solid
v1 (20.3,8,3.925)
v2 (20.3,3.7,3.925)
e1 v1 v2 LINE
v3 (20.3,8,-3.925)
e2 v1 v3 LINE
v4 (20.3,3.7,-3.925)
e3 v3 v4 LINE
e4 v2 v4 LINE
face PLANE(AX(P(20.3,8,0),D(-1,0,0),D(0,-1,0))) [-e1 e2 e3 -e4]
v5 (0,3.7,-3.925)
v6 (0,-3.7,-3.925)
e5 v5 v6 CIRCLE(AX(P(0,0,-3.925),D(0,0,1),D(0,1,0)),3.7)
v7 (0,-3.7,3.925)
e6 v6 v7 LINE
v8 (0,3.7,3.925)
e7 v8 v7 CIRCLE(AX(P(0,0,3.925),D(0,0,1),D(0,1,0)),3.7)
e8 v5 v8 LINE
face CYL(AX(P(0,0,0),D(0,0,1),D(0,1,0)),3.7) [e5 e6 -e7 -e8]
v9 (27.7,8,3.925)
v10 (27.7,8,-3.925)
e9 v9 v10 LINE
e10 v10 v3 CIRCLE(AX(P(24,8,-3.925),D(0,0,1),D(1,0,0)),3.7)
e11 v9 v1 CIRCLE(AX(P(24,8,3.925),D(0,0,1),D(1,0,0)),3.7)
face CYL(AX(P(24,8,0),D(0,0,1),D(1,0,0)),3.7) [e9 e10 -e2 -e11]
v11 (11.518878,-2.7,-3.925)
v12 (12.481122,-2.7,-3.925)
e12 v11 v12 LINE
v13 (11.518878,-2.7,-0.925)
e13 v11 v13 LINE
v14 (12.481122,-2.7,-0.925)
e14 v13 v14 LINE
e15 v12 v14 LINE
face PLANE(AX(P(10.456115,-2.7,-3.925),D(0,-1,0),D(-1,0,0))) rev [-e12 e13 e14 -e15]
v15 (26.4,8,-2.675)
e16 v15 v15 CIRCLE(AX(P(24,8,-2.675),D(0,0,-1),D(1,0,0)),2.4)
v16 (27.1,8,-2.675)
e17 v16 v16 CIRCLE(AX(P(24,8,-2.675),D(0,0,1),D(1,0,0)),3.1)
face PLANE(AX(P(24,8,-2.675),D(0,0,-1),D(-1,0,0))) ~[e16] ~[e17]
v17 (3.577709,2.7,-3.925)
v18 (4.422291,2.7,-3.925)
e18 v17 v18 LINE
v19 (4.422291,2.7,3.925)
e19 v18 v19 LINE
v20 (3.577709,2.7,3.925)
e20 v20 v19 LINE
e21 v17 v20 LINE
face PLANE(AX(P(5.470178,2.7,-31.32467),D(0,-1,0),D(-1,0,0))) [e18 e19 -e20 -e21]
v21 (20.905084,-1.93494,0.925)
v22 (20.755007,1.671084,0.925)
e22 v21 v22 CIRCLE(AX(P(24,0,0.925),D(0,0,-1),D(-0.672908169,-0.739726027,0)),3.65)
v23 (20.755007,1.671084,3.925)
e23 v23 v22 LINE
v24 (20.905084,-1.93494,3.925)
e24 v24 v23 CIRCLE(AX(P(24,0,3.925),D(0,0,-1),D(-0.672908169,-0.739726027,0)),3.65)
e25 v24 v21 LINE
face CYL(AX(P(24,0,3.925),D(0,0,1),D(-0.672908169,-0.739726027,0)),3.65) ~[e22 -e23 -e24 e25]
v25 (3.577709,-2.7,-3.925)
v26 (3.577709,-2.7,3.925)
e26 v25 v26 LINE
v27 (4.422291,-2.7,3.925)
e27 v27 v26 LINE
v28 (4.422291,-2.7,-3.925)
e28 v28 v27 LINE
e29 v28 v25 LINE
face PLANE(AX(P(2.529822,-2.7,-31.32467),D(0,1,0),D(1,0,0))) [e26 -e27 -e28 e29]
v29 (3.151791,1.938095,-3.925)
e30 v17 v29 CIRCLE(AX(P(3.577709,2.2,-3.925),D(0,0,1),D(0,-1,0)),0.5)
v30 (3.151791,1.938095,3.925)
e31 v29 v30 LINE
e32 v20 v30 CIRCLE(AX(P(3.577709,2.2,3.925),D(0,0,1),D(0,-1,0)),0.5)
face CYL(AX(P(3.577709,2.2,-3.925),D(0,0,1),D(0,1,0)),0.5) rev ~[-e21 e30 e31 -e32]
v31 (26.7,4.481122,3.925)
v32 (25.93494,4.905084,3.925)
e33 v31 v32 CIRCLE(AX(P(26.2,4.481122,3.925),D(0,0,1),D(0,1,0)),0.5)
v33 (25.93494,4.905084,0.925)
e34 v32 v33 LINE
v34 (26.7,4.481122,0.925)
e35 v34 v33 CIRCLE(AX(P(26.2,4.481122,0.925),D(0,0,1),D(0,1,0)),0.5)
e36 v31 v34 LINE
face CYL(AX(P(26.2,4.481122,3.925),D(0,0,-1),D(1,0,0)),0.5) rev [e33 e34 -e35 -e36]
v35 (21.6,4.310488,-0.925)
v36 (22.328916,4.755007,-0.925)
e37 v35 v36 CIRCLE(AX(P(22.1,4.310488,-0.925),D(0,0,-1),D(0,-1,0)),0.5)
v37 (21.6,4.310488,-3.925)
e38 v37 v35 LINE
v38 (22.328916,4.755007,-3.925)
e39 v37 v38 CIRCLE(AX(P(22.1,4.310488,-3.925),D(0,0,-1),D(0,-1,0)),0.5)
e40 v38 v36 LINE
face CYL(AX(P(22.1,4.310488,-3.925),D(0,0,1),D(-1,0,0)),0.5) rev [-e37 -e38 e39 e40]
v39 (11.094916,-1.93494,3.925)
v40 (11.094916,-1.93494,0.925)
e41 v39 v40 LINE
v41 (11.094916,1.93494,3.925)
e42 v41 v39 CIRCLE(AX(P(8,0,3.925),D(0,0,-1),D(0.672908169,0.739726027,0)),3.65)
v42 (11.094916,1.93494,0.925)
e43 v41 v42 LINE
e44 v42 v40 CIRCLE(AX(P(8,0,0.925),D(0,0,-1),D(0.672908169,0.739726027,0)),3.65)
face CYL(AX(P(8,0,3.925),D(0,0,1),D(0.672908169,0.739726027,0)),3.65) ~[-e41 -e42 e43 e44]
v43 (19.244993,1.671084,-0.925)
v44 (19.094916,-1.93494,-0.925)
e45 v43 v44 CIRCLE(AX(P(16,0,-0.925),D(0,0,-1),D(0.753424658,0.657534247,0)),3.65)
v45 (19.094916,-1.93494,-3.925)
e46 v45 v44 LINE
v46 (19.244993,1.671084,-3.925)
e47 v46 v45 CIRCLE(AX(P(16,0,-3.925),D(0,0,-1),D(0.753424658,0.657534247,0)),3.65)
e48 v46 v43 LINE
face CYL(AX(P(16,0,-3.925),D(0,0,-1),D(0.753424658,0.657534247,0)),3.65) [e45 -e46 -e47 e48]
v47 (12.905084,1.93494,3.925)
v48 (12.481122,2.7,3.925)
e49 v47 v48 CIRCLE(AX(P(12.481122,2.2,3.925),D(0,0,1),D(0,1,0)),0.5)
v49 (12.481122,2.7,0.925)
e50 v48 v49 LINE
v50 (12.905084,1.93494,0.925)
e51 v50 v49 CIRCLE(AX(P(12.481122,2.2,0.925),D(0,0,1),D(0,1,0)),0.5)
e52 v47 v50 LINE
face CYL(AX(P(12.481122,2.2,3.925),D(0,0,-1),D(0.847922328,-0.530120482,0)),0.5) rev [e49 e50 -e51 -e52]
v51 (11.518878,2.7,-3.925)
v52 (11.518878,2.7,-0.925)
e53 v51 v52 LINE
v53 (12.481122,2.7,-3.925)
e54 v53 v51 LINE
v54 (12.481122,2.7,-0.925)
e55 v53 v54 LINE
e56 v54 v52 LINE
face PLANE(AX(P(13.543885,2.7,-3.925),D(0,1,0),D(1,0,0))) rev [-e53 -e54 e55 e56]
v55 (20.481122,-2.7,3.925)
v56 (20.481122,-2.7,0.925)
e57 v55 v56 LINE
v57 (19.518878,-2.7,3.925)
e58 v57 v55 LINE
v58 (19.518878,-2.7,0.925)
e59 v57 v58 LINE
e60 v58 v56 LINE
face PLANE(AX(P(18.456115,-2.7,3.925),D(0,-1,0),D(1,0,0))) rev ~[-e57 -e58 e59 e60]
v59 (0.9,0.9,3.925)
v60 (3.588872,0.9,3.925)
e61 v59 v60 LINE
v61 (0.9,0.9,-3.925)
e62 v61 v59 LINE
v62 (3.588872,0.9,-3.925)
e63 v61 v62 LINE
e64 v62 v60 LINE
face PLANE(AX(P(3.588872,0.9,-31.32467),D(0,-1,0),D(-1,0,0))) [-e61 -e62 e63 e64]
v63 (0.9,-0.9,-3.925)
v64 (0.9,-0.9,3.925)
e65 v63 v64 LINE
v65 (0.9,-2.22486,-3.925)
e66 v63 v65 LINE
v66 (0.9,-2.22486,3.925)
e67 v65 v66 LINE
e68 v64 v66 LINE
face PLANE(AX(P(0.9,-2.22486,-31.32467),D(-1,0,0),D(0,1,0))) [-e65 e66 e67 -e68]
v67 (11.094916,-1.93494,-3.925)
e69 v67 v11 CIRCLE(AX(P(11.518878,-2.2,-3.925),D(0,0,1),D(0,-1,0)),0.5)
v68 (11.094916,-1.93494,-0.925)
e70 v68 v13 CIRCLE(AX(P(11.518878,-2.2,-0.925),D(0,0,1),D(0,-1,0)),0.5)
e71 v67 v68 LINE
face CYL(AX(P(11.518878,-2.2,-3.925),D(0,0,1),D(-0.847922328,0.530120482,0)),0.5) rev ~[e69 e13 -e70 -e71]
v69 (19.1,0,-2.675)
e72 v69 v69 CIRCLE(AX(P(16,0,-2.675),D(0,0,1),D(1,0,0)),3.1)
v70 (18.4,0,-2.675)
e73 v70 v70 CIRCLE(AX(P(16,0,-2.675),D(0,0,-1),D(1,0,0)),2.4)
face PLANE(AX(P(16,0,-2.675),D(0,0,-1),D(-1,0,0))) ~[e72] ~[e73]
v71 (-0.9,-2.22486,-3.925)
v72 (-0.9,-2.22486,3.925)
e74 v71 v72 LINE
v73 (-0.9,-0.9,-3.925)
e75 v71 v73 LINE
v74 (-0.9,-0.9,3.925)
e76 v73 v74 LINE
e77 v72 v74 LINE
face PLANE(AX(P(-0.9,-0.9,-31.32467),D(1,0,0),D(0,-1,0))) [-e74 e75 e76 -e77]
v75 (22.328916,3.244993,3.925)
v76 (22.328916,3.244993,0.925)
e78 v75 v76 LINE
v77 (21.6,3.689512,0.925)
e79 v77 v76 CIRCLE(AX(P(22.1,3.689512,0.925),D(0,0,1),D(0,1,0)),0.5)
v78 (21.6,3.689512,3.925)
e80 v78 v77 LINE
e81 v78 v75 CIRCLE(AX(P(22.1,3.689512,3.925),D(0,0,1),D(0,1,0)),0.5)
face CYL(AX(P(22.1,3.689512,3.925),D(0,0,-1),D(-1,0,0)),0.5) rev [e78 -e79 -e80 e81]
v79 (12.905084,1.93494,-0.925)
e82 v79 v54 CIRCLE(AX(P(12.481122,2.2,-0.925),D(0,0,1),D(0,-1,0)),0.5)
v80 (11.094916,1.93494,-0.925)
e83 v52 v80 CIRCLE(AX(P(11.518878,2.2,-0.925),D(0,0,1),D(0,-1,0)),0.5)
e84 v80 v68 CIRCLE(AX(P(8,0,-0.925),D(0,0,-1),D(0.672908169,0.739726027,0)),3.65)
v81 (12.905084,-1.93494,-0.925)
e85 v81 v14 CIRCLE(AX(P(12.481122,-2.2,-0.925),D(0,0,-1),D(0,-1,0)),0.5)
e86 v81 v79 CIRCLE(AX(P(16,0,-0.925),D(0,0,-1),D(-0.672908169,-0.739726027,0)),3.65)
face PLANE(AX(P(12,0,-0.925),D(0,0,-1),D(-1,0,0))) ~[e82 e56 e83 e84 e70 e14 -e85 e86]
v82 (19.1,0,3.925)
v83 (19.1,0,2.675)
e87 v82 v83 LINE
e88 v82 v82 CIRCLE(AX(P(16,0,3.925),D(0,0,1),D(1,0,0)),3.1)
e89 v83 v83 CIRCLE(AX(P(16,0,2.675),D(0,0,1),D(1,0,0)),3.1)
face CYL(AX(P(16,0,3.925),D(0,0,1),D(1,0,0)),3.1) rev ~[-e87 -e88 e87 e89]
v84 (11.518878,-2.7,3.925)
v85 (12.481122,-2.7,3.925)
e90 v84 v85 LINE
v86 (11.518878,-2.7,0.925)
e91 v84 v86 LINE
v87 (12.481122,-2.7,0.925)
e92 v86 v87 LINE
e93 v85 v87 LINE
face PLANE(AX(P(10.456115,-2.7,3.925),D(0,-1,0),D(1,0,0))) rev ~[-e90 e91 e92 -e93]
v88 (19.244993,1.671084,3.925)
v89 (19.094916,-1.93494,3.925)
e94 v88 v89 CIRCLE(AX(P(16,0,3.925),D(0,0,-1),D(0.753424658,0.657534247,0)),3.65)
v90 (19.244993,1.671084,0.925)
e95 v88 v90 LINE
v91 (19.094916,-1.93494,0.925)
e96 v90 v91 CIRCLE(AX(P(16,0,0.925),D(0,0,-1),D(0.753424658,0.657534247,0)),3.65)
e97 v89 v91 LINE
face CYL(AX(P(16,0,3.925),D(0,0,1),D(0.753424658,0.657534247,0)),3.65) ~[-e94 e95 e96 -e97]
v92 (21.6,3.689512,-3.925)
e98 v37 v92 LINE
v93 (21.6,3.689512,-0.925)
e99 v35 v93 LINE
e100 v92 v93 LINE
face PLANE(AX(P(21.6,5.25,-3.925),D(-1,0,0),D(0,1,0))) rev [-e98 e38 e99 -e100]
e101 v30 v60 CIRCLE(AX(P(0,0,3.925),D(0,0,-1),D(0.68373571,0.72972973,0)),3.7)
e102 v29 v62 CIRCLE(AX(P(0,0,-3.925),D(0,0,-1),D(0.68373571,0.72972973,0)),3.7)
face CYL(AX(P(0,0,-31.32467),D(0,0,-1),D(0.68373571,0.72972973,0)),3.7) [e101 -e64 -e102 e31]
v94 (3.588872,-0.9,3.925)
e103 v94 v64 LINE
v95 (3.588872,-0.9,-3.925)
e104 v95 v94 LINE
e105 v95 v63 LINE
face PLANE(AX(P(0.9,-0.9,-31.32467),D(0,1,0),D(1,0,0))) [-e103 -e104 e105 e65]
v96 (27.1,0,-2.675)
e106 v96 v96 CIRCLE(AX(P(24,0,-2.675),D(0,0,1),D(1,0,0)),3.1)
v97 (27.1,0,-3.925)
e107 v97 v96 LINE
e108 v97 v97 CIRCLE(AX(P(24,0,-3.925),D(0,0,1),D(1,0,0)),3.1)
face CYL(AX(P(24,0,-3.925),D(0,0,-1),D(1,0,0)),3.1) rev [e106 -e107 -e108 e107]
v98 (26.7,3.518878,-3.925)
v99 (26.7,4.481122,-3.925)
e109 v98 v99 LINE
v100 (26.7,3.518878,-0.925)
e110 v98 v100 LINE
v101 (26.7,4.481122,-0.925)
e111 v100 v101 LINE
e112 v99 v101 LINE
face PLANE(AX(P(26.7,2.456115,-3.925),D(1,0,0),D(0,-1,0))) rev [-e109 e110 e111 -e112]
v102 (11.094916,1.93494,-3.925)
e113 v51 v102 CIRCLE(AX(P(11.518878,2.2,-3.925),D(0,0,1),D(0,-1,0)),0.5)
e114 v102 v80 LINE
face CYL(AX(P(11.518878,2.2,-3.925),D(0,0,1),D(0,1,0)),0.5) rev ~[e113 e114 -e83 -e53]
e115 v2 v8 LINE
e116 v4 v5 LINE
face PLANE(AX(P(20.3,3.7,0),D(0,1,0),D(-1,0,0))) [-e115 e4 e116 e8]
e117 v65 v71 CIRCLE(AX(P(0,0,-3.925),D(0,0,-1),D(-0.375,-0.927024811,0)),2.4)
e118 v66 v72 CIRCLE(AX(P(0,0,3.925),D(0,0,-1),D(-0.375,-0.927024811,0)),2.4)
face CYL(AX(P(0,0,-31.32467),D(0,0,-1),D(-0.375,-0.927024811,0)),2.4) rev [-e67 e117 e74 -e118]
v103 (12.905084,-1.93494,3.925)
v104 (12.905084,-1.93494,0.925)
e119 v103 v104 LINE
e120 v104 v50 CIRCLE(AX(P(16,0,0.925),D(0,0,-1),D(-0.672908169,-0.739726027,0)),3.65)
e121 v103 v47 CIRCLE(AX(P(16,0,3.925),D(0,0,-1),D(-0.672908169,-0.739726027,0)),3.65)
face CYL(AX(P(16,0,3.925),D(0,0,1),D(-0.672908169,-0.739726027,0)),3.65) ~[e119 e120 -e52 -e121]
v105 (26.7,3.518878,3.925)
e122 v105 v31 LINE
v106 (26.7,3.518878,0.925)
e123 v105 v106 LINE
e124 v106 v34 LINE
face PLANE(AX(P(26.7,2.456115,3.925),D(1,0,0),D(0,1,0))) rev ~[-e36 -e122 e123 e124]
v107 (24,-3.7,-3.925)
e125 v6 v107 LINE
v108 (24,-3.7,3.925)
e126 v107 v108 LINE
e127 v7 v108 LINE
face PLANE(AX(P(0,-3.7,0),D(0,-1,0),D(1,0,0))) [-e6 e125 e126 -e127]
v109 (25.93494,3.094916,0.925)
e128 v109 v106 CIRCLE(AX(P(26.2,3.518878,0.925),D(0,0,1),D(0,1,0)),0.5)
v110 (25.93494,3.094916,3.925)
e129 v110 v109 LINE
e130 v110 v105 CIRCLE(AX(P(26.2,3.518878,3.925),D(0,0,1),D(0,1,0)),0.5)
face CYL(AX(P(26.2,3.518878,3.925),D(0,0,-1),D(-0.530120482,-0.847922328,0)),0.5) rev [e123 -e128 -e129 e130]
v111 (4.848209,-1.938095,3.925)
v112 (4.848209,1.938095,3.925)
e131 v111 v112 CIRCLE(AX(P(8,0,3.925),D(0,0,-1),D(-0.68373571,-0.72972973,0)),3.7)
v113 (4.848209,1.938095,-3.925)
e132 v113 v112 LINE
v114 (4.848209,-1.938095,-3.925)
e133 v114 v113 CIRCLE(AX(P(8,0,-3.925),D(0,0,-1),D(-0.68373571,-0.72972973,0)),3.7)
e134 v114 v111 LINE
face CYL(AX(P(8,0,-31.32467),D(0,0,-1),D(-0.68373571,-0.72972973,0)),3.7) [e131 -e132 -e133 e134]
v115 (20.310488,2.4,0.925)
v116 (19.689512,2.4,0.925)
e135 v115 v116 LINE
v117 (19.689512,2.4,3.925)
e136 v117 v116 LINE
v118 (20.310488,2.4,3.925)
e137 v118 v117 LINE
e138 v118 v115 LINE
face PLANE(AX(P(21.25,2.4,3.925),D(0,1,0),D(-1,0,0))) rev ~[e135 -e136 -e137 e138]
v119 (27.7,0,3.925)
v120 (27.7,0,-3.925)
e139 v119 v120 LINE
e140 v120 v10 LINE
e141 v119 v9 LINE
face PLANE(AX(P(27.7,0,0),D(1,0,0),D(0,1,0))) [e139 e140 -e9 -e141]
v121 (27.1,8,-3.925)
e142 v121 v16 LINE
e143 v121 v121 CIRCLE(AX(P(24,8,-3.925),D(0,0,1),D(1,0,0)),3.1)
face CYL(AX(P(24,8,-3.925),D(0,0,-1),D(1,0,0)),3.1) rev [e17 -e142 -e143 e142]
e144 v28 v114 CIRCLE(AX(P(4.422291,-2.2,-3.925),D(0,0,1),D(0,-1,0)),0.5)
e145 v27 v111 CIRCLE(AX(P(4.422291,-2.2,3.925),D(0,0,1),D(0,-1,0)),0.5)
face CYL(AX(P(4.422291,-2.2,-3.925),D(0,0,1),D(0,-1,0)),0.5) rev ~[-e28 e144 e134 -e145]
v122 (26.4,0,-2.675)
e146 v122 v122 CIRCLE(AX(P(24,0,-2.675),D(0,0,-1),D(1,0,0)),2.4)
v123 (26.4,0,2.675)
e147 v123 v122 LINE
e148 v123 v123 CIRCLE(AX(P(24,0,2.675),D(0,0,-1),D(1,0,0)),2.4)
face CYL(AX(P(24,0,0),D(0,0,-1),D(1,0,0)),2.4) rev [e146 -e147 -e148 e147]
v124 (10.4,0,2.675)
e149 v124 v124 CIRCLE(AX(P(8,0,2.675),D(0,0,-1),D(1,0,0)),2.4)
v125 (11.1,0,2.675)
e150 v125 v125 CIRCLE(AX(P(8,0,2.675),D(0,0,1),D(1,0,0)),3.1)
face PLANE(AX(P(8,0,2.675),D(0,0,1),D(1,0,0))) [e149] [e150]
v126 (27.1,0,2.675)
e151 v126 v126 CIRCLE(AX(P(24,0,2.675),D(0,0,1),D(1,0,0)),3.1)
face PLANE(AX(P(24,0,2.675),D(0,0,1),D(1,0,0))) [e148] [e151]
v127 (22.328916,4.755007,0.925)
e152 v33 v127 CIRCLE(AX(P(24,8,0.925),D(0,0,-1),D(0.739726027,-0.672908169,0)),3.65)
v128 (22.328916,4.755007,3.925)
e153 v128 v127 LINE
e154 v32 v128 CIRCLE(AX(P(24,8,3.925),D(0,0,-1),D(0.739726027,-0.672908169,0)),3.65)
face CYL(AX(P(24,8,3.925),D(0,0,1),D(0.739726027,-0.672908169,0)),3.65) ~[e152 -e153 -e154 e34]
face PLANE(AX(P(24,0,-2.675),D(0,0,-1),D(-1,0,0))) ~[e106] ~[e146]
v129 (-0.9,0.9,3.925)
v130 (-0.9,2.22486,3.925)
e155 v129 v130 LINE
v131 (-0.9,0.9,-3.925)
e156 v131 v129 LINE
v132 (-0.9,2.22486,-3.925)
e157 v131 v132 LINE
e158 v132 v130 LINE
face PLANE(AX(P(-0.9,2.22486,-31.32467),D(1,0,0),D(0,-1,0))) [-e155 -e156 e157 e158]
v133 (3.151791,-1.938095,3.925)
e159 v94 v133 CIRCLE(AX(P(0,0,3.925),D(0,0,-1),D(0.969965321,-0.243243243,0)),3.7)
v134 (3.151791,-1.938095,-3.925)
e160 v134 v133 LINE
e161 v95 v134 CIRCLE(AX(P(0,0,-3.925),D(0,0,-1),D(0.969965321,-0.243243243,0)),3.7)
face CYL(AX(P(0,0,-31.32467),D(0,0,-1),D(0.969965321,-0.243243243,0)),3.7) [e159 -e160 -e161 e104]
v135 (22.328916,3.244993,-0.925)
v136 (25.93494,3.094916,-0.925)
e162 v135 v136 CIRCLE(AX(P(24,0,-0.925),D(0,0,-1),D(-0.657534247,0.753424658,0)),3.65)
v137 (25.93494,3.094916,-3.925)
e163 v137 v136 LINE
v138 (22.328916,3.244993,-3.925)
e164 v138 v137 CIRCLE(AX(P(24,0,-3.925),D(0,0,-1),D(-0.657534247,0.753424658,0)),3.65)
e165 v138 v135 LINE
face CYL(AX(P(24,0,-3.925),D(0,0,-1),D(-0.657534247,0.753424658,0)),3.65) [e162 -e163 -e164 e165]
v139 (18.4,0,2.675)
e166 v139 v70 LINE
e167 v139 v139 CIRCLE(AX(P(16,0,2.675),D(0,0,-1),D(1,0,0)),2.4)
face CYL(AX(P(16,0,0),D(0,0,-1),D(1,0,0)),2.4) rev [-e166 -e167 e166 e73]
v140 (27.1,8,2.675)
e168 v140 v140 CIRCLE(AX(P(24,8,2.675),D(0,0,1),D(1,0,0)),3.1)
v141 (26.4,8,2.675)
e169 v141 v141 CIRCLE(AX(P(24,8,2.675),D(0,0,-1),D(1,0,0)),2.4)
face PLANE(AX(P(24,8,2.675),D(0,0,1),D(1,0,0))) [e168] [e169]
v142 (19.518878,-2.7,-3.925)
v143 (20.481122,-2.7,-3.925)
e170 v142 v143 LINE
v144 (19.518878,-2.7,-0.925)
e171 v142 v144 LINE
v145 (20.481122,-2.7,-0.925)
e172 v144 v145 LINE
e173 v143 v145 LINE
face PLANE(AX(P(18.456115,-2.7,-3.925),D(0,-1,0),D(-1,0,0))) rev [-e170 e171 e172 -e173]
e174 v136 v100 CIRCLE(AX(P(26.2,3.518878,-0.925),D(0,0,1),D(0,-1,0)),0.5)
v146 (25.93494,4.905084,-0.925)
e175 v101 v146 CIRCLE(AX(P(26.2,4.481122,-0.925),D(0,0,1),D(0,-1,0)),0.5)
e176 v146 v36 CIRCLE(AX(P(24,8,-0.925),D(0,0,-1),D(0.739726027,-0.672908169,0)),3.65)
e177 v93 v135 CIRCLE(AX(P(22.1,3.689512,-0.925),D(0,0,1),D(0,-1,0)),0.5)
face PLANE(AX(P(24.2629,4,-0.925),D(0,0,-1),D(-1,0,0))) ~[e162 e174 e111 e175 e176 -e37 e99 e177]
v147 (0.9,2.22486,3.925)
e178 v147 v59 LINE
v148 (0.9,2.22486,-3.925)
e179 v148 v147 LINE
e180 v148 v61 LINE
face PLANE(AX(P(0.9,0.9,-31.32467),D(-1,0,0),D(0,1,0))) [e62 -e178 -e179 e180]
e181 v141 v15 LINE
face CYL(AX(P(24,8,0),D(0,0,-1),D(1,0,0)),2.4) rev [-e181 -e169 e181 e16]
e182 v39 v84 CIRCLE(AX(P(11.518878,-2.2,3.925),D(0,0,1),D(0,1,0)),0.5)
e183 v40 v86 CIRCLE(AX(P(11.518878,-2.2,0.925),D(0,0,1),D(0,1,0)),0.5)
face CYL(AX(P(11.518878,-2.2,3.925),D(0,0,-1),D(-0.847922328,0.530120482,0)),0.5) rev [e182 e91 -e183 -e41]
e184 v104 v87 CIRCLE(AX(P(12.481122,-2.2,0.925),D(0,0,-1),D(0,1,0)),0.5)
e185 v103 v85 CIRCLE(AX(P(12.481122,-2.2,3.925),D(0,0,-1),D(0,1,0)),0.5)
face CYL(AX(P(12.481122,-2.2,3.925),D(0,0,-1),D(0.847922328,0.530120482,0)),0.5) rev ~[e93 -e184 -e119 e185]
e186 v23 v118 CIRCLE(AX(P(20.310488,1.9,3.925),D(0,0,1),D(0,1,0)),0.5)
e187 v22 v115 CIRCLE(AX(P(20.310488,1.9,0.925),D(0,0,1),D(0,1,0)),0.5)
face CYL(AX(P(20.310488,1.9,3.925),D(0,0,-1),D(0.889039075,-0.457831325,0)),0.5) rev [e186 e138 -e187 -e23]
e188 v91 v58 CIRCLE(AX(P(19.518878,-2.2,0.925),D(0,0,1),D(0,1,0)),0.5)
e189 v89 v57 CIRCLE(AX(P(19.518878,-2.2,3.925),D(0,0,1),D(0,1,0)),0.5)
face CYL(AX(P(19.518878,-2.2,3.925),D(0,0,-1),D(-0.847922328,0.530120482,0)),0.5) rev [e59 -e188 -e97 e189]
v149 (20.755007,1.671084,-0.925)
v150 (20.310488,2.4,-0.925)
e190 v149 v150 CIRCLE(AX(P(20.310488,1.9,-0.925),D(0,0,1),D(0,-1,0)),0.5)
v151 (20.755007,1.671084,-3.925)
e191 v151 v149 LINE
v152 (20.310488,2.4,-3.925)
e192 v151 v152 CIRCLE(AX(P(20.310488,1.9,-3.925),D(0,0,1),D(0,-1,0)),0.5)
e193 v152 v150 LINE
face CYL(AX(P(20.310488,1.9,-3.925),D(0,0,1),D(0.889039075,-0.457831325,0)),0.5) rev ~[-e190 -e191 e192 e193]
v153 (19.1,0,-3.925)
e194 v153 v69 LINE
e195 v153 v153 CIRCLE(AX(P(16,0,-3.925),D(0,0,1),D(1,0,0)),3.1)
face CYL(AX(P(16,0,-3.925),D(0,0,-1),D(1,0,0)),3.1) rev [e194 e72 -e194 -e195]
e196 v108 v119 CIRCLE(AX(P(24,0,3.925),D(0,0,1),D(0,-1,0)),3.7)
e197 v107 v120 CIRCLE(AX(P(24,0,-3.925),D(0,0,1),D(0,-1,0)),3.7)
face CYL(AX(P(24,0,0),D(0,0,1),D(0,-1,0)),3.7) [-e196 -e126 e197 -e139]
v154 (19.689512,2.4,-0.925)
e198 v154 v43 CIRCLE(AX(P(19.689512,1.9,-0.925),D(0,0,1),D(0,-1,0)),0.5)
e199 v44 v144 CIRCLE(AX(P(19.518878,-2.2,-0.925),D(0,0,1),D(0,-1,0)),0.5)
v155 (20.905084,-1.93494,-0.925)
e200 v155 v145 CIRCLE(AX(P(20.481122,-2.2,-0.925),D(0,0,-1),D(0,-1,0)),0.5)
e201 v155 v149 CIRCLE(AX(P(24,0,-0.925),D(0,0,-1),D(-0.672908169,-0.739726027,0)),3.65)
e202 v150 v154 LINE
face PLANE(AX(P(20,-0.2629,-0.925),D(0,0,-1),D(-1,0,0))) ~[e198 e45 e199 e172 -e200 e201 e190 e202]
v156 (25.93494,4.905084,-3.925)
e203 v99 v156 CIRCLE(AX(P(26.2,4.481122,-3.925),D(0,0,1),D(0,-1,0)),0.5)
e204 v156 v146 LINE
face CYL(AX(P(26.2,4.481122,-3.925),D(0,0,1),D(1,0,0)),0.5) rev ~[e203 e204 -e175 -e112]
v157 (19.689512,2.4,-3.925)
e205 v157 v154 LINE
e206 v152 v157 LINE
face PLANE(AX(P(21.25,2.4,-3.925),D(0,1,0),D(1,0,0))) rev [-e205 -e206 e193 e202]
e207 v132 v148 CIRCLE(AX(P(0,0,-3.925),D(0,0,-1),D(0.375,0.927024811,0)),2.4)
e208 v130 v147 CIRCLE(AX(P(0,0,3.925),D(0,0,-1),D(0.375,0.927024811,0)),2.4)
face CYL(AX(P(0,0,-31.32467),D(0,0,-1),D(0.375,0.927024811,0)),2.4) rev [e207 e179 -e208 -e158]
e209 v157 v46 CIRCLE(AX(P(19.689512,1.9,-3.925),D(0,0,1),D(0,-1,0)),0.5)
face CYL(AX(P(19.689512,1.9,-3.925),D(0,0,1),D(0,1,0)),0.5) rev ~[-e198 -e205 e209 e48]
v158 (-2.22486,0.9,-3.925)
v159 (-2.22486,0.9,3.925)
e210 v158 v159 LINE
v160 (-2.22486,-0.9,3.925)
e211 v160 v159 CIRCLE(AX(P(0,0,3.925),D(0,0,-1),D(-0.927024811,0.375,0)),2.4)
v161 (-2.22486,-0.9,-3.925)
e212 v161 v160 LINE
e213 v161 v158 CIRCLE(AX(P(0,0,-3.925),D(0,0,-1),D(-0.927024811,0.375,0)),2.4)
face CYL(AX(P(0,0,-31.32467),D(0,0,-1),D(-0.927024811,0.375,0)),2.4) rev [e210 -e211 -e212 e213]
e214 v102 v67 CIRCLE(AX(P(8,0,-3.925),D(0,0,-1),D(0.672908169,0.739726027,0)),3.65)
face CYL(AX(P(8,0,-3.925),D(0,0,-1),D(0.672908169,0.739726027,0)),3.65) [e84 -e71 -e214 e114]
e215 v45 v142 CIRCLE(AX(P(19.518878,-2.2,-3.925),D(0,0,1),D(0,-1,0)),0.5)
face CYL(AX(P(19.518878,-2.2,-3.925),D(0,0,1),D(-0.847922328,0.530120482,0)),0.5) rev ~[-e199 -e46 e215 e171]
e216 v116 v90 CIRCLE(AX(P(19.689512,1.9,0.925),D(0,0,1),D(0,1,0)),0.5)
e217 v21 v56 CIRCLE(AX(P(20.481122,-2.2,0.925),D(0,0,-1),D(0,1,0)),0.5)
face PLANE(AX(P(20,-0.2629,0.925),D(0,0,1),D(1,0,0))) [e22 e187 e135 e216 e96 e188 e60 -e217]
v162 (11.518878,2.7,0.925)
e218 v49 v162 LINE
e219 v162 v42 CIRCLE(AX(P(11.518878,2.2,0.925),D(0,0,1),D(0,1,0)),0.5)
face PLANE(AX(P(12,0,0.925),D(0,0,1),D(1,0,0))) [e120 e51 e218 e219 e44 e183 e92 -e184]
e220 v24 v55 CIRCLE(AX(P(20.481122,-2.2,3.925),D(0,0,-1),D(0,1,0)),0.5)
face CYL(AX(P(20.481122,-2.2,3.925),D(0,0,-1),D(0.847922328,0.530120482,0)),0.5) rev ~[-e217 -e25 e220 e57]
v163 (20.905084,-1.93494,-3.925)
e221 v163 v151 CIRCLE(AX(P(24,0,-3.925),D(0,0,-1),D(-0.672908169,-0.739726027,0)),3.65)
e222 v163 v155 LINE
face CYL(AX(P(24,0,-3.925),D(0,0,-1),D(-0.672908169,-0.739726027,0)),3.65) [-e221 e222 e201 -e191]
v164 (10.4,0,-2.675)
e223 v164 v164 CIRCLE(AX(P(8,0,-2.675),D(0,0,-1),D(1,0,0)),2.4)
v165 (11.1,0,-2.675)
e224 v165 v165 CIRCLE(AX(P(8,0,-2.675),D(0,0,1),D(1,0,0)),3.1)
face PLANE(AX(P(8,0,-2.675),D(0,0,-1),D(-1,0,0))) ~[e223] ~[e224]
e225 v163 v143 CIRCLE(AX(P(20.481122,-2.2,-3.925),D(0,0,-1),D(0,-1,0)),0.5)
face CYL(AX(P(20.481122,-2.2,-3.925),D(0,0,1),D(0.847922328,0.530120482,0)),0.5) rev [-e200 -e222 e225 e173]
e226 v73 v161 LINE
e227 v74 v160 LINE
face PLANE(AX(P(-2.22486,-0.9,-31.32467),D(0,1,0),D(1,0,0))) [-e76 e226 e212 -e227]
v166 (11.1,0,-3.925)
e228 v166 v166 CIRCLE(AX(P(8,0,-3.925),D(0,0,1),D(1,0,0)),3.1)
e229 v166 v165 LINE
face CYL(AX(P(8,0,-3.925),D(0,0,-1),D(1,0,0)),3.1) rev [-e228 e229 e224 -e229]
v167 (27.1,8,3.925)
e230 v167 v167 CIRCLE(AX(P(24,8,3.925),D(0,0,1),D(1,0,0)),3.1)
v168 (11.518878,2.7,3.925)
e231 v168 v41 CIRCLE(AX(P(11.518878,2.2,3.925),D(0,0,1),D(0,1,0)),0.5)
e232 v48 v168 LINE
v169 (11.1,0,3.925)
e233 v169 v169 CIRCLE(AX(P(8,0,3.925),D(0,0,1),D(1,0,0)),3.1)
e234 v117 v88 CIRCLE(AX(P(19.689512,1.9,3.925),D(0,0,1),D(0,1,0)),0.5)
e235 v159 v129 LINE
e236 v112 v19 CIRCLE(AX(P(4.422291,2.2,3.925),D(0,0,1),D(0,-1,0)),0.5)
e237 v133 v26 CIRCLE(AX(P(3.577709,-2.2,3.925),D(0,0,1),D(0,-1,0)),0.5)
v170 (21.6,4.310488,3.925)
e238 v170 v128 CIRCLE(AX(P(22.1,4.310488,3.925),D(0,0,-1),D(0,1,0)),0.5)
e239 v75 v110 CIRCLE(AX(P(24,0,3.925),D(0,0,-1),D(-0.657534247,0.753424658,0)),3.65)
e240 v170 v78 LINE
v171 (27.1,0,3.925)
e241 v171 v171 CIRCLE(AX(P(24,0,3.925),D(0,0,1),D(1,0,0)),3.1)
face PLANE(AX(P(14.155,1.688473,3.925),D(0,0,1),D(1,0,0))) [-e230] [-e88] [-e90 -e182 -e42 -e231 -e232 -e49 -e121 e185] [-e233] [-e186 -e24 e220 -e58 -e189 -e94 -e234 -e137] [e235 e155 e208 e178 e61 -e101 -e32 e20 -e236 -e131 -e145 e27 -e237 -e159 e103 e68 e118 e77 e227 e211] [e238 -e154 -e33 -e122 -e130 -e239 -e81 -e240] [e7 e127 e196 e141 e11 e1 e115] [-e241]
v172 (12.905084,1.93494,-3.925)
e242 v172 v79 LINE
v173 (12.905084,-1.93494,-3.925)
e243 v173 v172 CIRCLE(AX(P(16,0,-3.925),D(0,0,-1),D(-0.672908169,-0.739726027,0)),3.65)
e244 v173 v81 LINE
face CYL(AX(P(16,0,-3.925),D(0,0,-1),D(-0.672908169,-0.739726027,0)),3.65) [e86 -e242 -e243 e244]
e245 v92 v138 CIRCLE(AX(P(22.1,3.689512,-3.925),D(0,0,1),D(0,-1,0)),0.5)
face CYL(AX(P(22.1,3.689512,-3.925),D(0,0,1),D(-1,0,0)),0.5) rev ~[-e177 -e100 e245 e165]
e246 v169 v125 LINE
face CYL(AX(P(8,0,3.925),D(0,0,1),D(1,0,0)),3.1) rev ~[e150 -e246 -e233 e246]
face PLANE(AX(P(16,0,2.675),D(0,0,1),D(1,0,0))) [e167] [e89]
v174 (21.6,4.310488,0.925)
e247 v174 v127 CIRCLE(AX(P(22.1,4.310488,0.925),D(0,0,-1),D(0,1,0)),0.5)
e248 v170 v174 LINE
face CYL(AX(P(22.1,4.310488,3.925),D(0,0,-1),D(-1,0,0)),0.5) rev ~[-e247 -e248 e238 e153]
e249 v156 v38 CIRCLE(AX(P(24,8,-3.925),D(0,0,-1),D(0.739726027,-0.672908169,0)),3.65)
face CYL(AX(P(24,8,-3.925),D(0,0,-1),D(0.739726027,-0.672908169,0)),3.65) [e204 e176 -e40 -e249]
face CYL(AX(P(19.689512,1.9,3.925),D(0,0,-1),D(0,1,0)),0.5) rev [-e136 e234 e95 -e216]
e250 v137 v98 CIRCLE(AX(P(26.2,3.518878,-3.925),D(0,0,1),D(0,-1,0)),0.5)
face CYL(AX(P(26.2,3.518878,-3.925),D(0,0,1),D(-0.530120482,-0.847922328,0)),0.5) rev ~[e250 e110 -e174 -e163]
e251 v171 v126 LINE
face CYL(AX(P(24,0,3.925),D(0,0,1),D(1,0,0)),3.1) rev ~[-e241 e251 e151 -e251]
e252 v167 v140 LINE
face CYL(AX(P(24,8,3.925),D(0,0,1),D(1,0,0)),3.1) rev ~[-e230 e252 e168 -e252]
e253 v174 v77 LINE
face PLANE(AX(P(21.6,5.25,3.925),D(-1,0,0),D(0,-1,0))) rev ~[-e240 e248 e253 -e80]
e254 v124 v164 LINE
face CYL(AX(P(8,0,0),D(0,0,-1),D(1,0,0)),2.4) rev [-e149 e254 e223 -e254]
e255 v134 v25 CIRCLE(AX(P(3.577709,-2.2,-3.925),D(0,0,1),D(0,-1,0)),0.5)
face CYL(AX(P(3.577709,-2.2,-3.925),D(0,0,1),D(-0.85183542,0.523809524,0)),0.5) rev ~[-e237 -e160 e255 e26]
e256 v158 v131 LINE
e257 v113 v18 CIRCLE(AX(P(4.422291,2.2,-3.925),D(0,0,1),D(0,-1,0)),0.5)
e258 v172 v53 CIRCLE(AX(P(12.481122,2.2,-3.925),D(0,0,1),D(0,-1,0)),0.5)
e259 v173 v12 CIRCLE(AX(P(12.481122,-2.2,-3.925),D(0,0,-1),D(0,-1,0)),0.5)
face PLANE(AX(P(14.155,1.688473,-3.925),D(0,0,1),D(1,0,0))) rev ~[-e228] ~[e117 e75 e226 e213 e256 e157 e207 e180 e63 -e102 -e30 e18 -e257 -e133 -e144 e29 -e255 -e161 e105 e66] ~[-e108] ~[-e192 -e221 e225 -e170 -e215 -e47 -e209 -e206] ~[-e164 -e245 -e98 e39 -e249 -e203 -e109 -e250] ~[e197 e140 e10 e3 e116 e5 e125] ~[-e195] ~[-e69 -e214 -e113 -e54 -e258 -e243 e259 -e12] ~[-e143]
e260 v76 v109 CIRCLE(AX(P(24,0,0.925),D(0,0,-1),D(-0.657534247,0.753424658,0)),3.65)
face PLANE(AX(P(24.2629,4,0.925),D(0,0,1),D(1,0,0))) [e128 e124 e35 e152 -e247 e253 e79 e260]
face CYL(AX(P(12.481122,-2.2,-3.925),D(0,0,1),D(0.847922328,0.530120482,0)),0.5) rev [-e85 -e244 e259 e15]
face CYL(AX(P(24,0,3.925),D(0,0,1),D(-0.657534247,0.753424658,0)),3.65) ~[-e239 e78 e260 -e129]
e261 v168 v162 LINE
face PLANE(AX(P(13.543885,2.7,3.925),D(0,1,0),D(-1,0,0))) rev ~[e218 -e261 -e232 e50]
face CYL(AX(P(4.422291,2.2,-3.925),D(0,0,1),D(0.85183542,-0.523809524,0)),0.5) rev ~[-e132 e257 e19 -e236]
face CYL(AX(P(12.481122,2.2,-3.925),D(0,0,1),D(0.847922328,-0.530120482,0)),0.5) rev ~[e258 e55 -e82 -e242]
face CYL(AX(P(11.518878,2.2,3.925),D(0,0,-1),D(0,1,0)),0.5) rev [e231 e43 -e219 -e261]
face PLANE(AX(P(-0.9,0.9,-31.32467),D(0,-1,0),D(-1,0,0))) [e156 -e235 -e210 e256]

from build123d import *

# Parameters (mm, degrees)
SKETCH1_R            = 2.4
BEAM_DEPTH           = 3.925
AXLE_CUT_DEPTH       = 31.324670237
AXLE_CUT_DEPTH_BACK  = 31.324670237
SKETCH3_R            = 3.1
HOLE_SURROUND_DEPTH  = 1.25
CAVITY_CUT_DEPTH     = 3
FILLET2_R            = 0.5
FILLET2_OF_MIRROR2_R = 0.5
FILLET3_R            = 0.5


with BuildPart() as part:
    # Sketch1 → Beam (new, symmetric)
    with BuildSketch(Plane.XY):
        with BuildLine():
            Line((20.3, 3.7), (0, 3.7))
            ThreePointArc((0, 3.7), (-3.7, 0), (0, -3.7))
            Line((0, -3.7), (24, -3.7))
            ThreePointArc((24, -3.7), (26.61629509, -2.61629509), (27.7, 0))
            Line((27.7, 0), (27.7, 8))
            ThreePointArc((27.7, 8), (24, 11.7), (20.3, 8))
            Line((20.3, 8), (20.3, 3.7))
        make_face()
        with Locations((8, 0)):
            Circle(SKETCH1_R, mode=Mode.SUBTRACT)
        with Locations((16, 0)):
            Circle(SKETCH1_R, mode=Mode.SUBTRACT)
        with Locations((24, 0)):
            Circle(SKETCH1_R, mode=Mode.SUBTRACT)
        with Locations((24, 8)):
            Circle(SKETCH1_R, mode=Mode.SUBTRACT)
    extrude(amount=BEAM_DEPTH, both=True)

    # Sketch2 → Axle Cut (cut, two sides: drawn at the far end of the back side and taken through both)
    with BuildSketch(Plane.XY.offset(-AXLE_CUT_DEPTH_BACK)):
        with BuildLine():
            ThreePointArc((-0.9, -2.224859546), (0, -2.4), (0.9, -2.224859546))
            Line((0.9, -2.224859546), (0.9, -0.9))
            Line((0.9, -0.9), (3.588871689, -0.9))
            ThreePointArc((3.588871689, -0.9), (3.188981578, -1.876271967), (2.529822128, -2.7))
            Line((2.529822128, -2.7), (5.470177872, -2.7))
            ThreePointArc((5.470177872, -2.7), (4.3, 0), (5.470177872, 2.7))
            Line((5.470177872, 2.7), (2.529822128, 2.7))
            ThreePointArc((2.529822128, 2.7), (3.188981578, 1.876271967), (3.588871689, 0.9))
            Line((3.588871689, 0.9), (0.9, 0.9))
            Line((0.9, 0.9), (0.9, 2.224859546))
            ThreePointArc((0.9, 2.224859546), (0, 2.4), (-0.9, 2.224859546))
            Line((-0.9, 2.224859546), (-0.9, 0.9))
            Line((-0.9, 0.9), (-2.224859546, 0.9))
            ThreePointArc((-2.224859546, 0.9), (-2.4, 0), (-2.224859546, -0.9))
            Line((-2.224859546, -0.9), (-0.9, -0.9))
            Line((-0.9, -0.9), (-0.9, -2.224859546))
        make_face()
    extrude(amount=AXLE_CUT_DEPTH + AXLE_CUT_DEPTH_BACK, mode=Mode.SUBTRACT)

    # Sketch3 → Hole Surround (cut)
    with BuildSketch(Plane.XY.offset(3.925)):
        with Locations((24, 8)):
            Circle(SKETCH3_R)
        with Locations((24, 0)):
            Circle(SKETCH3_R)
        with Locations((16, 0)):
            Circle(SKETCH3_R)
        with Locations((8, 0)):
            Circle(SKETCH3_R)
    hole_surround = extrude(amount=-HOLE_SURROUND_DEPTH, mode=Mode.SUBTRACT)

    # Sketch4 → Cavity Cut (cut)
    with BuildSketch(Plane.XY.offset(3.925)):
        with BuildLine():
            Line((21.6, 5.25), (21.6, 2.75))
            ThreePointArc((21.6, 2.75), (24.209981249, 3.643954977), (26.7, 2.456114818))
            Line((26.7, 2.456114818), (26.7, 5.543885182))
            ThreePointArc((26.7, 5.543885182), (24.209981249, 4.356045023), (21.6, 5.25))
        make_face()
        with BuildLine():
            ThreePointArc((21.543885182, -2.7), (20.356045023, -0.209981249), (21.25, 2.4))
            Line((21.25, 2.4), (18.75, 2.4))
            ThreePointArc((18.75, 2.4), (19.643954977, -0.209981249), (18.456114818, -2.7))
            Line((18.456114818, -2.7), (21.543885182, -2.7))
        make_face()
        with BuildLine():
            ThreePointArc((13.543885182, -2.7), (12.35, 0), (13.543885182, 2.7))
            Line((13.543885182, 2.7), (10.456114818, 2.7))
            ThreePointArc((10.456114818, 2.7), (11.65, 0), (10.456114818, -2.7))
            Line((10.456114818, -2.7), (13.543885182, -2.7))
        make_face()
    cavity_cut = extrude(amount=-CAVITY_CUT_DEPTH, mode=Mode.SUBTRACT)

    # Fillet2
    fillet2_edges = [part.edges().sort_by_distance(p)[0] for p in [
        (26.7, 5.543885182, 2.425),
        (21.543885182, -2.7, 2.425),
        (13.543885182, 2.7, 2.425),
        (18.456114818, -2.7, 2.425),
        (13.543885182, -2.7, 2.425),
        (10.456114818, -2.7, 2.425),
        (10.456114818, 2.7, 2.425),
        (21.6, 2.75, 2.425),
        (26.7, 2.456114818, 2.425),
        (21.6, 5.25, 2.425),
        (18.75, 2.4, 2.425),
        (21.25, 2.4, 2.425),
    ]]
    fillet(fillet2_edges, radius=FILLET2_R)

    # Mirror2: Hole Surround, Cavity Cut across plane
    add(hole_surround.mirror(Plane.XY), mode=Mode.SUBTRACT)
    add(cavity_cut.mirror(Plane.XY), mode=Mode.SUBTRACT)

    # Fillet2 of Mirror2
    fillet2_of_mirror2_edges = [part.edges().sort_by_distance(p)[0] for p in [
        (26.7, 5.543885182, -2.425),
        (21.543885182, -2.7, -2.425),
        (13.543885182, 2.7, -2.425),
        (18.456114818, -2.7, -2.425),
        (13.543885182, -2.7, -2.425),
        (10.456114818, -2.7, -2.425),
        (10.456114818, 2.7, -2.425),
        (21.6, 2.75, -2.425),
        (26.7, 2.456114818, -2.425),
        (21.6, 5.25, -2.425),
        (18.75, 2.4, -2.425),
        (21.25, 2.4, -2.425),
    ]]
    fillet(fillet2_of_mirror2_edges, radius=FILLET2_OF_MIRROR2_R)

    # Fillet3
    fillet3_edges = [part.edges().sort_by_distance(p)[0] for p in [
        (2.529822128, -2.7, 0),
        (5.470177872, -2.7, 0),
        (5.470177872, 2.7, 0),
        (2.529822128, 2.7, 0),
    ]]
    fillet(fillet3_edges, radius=FILLET3_R)


solid = part.part
